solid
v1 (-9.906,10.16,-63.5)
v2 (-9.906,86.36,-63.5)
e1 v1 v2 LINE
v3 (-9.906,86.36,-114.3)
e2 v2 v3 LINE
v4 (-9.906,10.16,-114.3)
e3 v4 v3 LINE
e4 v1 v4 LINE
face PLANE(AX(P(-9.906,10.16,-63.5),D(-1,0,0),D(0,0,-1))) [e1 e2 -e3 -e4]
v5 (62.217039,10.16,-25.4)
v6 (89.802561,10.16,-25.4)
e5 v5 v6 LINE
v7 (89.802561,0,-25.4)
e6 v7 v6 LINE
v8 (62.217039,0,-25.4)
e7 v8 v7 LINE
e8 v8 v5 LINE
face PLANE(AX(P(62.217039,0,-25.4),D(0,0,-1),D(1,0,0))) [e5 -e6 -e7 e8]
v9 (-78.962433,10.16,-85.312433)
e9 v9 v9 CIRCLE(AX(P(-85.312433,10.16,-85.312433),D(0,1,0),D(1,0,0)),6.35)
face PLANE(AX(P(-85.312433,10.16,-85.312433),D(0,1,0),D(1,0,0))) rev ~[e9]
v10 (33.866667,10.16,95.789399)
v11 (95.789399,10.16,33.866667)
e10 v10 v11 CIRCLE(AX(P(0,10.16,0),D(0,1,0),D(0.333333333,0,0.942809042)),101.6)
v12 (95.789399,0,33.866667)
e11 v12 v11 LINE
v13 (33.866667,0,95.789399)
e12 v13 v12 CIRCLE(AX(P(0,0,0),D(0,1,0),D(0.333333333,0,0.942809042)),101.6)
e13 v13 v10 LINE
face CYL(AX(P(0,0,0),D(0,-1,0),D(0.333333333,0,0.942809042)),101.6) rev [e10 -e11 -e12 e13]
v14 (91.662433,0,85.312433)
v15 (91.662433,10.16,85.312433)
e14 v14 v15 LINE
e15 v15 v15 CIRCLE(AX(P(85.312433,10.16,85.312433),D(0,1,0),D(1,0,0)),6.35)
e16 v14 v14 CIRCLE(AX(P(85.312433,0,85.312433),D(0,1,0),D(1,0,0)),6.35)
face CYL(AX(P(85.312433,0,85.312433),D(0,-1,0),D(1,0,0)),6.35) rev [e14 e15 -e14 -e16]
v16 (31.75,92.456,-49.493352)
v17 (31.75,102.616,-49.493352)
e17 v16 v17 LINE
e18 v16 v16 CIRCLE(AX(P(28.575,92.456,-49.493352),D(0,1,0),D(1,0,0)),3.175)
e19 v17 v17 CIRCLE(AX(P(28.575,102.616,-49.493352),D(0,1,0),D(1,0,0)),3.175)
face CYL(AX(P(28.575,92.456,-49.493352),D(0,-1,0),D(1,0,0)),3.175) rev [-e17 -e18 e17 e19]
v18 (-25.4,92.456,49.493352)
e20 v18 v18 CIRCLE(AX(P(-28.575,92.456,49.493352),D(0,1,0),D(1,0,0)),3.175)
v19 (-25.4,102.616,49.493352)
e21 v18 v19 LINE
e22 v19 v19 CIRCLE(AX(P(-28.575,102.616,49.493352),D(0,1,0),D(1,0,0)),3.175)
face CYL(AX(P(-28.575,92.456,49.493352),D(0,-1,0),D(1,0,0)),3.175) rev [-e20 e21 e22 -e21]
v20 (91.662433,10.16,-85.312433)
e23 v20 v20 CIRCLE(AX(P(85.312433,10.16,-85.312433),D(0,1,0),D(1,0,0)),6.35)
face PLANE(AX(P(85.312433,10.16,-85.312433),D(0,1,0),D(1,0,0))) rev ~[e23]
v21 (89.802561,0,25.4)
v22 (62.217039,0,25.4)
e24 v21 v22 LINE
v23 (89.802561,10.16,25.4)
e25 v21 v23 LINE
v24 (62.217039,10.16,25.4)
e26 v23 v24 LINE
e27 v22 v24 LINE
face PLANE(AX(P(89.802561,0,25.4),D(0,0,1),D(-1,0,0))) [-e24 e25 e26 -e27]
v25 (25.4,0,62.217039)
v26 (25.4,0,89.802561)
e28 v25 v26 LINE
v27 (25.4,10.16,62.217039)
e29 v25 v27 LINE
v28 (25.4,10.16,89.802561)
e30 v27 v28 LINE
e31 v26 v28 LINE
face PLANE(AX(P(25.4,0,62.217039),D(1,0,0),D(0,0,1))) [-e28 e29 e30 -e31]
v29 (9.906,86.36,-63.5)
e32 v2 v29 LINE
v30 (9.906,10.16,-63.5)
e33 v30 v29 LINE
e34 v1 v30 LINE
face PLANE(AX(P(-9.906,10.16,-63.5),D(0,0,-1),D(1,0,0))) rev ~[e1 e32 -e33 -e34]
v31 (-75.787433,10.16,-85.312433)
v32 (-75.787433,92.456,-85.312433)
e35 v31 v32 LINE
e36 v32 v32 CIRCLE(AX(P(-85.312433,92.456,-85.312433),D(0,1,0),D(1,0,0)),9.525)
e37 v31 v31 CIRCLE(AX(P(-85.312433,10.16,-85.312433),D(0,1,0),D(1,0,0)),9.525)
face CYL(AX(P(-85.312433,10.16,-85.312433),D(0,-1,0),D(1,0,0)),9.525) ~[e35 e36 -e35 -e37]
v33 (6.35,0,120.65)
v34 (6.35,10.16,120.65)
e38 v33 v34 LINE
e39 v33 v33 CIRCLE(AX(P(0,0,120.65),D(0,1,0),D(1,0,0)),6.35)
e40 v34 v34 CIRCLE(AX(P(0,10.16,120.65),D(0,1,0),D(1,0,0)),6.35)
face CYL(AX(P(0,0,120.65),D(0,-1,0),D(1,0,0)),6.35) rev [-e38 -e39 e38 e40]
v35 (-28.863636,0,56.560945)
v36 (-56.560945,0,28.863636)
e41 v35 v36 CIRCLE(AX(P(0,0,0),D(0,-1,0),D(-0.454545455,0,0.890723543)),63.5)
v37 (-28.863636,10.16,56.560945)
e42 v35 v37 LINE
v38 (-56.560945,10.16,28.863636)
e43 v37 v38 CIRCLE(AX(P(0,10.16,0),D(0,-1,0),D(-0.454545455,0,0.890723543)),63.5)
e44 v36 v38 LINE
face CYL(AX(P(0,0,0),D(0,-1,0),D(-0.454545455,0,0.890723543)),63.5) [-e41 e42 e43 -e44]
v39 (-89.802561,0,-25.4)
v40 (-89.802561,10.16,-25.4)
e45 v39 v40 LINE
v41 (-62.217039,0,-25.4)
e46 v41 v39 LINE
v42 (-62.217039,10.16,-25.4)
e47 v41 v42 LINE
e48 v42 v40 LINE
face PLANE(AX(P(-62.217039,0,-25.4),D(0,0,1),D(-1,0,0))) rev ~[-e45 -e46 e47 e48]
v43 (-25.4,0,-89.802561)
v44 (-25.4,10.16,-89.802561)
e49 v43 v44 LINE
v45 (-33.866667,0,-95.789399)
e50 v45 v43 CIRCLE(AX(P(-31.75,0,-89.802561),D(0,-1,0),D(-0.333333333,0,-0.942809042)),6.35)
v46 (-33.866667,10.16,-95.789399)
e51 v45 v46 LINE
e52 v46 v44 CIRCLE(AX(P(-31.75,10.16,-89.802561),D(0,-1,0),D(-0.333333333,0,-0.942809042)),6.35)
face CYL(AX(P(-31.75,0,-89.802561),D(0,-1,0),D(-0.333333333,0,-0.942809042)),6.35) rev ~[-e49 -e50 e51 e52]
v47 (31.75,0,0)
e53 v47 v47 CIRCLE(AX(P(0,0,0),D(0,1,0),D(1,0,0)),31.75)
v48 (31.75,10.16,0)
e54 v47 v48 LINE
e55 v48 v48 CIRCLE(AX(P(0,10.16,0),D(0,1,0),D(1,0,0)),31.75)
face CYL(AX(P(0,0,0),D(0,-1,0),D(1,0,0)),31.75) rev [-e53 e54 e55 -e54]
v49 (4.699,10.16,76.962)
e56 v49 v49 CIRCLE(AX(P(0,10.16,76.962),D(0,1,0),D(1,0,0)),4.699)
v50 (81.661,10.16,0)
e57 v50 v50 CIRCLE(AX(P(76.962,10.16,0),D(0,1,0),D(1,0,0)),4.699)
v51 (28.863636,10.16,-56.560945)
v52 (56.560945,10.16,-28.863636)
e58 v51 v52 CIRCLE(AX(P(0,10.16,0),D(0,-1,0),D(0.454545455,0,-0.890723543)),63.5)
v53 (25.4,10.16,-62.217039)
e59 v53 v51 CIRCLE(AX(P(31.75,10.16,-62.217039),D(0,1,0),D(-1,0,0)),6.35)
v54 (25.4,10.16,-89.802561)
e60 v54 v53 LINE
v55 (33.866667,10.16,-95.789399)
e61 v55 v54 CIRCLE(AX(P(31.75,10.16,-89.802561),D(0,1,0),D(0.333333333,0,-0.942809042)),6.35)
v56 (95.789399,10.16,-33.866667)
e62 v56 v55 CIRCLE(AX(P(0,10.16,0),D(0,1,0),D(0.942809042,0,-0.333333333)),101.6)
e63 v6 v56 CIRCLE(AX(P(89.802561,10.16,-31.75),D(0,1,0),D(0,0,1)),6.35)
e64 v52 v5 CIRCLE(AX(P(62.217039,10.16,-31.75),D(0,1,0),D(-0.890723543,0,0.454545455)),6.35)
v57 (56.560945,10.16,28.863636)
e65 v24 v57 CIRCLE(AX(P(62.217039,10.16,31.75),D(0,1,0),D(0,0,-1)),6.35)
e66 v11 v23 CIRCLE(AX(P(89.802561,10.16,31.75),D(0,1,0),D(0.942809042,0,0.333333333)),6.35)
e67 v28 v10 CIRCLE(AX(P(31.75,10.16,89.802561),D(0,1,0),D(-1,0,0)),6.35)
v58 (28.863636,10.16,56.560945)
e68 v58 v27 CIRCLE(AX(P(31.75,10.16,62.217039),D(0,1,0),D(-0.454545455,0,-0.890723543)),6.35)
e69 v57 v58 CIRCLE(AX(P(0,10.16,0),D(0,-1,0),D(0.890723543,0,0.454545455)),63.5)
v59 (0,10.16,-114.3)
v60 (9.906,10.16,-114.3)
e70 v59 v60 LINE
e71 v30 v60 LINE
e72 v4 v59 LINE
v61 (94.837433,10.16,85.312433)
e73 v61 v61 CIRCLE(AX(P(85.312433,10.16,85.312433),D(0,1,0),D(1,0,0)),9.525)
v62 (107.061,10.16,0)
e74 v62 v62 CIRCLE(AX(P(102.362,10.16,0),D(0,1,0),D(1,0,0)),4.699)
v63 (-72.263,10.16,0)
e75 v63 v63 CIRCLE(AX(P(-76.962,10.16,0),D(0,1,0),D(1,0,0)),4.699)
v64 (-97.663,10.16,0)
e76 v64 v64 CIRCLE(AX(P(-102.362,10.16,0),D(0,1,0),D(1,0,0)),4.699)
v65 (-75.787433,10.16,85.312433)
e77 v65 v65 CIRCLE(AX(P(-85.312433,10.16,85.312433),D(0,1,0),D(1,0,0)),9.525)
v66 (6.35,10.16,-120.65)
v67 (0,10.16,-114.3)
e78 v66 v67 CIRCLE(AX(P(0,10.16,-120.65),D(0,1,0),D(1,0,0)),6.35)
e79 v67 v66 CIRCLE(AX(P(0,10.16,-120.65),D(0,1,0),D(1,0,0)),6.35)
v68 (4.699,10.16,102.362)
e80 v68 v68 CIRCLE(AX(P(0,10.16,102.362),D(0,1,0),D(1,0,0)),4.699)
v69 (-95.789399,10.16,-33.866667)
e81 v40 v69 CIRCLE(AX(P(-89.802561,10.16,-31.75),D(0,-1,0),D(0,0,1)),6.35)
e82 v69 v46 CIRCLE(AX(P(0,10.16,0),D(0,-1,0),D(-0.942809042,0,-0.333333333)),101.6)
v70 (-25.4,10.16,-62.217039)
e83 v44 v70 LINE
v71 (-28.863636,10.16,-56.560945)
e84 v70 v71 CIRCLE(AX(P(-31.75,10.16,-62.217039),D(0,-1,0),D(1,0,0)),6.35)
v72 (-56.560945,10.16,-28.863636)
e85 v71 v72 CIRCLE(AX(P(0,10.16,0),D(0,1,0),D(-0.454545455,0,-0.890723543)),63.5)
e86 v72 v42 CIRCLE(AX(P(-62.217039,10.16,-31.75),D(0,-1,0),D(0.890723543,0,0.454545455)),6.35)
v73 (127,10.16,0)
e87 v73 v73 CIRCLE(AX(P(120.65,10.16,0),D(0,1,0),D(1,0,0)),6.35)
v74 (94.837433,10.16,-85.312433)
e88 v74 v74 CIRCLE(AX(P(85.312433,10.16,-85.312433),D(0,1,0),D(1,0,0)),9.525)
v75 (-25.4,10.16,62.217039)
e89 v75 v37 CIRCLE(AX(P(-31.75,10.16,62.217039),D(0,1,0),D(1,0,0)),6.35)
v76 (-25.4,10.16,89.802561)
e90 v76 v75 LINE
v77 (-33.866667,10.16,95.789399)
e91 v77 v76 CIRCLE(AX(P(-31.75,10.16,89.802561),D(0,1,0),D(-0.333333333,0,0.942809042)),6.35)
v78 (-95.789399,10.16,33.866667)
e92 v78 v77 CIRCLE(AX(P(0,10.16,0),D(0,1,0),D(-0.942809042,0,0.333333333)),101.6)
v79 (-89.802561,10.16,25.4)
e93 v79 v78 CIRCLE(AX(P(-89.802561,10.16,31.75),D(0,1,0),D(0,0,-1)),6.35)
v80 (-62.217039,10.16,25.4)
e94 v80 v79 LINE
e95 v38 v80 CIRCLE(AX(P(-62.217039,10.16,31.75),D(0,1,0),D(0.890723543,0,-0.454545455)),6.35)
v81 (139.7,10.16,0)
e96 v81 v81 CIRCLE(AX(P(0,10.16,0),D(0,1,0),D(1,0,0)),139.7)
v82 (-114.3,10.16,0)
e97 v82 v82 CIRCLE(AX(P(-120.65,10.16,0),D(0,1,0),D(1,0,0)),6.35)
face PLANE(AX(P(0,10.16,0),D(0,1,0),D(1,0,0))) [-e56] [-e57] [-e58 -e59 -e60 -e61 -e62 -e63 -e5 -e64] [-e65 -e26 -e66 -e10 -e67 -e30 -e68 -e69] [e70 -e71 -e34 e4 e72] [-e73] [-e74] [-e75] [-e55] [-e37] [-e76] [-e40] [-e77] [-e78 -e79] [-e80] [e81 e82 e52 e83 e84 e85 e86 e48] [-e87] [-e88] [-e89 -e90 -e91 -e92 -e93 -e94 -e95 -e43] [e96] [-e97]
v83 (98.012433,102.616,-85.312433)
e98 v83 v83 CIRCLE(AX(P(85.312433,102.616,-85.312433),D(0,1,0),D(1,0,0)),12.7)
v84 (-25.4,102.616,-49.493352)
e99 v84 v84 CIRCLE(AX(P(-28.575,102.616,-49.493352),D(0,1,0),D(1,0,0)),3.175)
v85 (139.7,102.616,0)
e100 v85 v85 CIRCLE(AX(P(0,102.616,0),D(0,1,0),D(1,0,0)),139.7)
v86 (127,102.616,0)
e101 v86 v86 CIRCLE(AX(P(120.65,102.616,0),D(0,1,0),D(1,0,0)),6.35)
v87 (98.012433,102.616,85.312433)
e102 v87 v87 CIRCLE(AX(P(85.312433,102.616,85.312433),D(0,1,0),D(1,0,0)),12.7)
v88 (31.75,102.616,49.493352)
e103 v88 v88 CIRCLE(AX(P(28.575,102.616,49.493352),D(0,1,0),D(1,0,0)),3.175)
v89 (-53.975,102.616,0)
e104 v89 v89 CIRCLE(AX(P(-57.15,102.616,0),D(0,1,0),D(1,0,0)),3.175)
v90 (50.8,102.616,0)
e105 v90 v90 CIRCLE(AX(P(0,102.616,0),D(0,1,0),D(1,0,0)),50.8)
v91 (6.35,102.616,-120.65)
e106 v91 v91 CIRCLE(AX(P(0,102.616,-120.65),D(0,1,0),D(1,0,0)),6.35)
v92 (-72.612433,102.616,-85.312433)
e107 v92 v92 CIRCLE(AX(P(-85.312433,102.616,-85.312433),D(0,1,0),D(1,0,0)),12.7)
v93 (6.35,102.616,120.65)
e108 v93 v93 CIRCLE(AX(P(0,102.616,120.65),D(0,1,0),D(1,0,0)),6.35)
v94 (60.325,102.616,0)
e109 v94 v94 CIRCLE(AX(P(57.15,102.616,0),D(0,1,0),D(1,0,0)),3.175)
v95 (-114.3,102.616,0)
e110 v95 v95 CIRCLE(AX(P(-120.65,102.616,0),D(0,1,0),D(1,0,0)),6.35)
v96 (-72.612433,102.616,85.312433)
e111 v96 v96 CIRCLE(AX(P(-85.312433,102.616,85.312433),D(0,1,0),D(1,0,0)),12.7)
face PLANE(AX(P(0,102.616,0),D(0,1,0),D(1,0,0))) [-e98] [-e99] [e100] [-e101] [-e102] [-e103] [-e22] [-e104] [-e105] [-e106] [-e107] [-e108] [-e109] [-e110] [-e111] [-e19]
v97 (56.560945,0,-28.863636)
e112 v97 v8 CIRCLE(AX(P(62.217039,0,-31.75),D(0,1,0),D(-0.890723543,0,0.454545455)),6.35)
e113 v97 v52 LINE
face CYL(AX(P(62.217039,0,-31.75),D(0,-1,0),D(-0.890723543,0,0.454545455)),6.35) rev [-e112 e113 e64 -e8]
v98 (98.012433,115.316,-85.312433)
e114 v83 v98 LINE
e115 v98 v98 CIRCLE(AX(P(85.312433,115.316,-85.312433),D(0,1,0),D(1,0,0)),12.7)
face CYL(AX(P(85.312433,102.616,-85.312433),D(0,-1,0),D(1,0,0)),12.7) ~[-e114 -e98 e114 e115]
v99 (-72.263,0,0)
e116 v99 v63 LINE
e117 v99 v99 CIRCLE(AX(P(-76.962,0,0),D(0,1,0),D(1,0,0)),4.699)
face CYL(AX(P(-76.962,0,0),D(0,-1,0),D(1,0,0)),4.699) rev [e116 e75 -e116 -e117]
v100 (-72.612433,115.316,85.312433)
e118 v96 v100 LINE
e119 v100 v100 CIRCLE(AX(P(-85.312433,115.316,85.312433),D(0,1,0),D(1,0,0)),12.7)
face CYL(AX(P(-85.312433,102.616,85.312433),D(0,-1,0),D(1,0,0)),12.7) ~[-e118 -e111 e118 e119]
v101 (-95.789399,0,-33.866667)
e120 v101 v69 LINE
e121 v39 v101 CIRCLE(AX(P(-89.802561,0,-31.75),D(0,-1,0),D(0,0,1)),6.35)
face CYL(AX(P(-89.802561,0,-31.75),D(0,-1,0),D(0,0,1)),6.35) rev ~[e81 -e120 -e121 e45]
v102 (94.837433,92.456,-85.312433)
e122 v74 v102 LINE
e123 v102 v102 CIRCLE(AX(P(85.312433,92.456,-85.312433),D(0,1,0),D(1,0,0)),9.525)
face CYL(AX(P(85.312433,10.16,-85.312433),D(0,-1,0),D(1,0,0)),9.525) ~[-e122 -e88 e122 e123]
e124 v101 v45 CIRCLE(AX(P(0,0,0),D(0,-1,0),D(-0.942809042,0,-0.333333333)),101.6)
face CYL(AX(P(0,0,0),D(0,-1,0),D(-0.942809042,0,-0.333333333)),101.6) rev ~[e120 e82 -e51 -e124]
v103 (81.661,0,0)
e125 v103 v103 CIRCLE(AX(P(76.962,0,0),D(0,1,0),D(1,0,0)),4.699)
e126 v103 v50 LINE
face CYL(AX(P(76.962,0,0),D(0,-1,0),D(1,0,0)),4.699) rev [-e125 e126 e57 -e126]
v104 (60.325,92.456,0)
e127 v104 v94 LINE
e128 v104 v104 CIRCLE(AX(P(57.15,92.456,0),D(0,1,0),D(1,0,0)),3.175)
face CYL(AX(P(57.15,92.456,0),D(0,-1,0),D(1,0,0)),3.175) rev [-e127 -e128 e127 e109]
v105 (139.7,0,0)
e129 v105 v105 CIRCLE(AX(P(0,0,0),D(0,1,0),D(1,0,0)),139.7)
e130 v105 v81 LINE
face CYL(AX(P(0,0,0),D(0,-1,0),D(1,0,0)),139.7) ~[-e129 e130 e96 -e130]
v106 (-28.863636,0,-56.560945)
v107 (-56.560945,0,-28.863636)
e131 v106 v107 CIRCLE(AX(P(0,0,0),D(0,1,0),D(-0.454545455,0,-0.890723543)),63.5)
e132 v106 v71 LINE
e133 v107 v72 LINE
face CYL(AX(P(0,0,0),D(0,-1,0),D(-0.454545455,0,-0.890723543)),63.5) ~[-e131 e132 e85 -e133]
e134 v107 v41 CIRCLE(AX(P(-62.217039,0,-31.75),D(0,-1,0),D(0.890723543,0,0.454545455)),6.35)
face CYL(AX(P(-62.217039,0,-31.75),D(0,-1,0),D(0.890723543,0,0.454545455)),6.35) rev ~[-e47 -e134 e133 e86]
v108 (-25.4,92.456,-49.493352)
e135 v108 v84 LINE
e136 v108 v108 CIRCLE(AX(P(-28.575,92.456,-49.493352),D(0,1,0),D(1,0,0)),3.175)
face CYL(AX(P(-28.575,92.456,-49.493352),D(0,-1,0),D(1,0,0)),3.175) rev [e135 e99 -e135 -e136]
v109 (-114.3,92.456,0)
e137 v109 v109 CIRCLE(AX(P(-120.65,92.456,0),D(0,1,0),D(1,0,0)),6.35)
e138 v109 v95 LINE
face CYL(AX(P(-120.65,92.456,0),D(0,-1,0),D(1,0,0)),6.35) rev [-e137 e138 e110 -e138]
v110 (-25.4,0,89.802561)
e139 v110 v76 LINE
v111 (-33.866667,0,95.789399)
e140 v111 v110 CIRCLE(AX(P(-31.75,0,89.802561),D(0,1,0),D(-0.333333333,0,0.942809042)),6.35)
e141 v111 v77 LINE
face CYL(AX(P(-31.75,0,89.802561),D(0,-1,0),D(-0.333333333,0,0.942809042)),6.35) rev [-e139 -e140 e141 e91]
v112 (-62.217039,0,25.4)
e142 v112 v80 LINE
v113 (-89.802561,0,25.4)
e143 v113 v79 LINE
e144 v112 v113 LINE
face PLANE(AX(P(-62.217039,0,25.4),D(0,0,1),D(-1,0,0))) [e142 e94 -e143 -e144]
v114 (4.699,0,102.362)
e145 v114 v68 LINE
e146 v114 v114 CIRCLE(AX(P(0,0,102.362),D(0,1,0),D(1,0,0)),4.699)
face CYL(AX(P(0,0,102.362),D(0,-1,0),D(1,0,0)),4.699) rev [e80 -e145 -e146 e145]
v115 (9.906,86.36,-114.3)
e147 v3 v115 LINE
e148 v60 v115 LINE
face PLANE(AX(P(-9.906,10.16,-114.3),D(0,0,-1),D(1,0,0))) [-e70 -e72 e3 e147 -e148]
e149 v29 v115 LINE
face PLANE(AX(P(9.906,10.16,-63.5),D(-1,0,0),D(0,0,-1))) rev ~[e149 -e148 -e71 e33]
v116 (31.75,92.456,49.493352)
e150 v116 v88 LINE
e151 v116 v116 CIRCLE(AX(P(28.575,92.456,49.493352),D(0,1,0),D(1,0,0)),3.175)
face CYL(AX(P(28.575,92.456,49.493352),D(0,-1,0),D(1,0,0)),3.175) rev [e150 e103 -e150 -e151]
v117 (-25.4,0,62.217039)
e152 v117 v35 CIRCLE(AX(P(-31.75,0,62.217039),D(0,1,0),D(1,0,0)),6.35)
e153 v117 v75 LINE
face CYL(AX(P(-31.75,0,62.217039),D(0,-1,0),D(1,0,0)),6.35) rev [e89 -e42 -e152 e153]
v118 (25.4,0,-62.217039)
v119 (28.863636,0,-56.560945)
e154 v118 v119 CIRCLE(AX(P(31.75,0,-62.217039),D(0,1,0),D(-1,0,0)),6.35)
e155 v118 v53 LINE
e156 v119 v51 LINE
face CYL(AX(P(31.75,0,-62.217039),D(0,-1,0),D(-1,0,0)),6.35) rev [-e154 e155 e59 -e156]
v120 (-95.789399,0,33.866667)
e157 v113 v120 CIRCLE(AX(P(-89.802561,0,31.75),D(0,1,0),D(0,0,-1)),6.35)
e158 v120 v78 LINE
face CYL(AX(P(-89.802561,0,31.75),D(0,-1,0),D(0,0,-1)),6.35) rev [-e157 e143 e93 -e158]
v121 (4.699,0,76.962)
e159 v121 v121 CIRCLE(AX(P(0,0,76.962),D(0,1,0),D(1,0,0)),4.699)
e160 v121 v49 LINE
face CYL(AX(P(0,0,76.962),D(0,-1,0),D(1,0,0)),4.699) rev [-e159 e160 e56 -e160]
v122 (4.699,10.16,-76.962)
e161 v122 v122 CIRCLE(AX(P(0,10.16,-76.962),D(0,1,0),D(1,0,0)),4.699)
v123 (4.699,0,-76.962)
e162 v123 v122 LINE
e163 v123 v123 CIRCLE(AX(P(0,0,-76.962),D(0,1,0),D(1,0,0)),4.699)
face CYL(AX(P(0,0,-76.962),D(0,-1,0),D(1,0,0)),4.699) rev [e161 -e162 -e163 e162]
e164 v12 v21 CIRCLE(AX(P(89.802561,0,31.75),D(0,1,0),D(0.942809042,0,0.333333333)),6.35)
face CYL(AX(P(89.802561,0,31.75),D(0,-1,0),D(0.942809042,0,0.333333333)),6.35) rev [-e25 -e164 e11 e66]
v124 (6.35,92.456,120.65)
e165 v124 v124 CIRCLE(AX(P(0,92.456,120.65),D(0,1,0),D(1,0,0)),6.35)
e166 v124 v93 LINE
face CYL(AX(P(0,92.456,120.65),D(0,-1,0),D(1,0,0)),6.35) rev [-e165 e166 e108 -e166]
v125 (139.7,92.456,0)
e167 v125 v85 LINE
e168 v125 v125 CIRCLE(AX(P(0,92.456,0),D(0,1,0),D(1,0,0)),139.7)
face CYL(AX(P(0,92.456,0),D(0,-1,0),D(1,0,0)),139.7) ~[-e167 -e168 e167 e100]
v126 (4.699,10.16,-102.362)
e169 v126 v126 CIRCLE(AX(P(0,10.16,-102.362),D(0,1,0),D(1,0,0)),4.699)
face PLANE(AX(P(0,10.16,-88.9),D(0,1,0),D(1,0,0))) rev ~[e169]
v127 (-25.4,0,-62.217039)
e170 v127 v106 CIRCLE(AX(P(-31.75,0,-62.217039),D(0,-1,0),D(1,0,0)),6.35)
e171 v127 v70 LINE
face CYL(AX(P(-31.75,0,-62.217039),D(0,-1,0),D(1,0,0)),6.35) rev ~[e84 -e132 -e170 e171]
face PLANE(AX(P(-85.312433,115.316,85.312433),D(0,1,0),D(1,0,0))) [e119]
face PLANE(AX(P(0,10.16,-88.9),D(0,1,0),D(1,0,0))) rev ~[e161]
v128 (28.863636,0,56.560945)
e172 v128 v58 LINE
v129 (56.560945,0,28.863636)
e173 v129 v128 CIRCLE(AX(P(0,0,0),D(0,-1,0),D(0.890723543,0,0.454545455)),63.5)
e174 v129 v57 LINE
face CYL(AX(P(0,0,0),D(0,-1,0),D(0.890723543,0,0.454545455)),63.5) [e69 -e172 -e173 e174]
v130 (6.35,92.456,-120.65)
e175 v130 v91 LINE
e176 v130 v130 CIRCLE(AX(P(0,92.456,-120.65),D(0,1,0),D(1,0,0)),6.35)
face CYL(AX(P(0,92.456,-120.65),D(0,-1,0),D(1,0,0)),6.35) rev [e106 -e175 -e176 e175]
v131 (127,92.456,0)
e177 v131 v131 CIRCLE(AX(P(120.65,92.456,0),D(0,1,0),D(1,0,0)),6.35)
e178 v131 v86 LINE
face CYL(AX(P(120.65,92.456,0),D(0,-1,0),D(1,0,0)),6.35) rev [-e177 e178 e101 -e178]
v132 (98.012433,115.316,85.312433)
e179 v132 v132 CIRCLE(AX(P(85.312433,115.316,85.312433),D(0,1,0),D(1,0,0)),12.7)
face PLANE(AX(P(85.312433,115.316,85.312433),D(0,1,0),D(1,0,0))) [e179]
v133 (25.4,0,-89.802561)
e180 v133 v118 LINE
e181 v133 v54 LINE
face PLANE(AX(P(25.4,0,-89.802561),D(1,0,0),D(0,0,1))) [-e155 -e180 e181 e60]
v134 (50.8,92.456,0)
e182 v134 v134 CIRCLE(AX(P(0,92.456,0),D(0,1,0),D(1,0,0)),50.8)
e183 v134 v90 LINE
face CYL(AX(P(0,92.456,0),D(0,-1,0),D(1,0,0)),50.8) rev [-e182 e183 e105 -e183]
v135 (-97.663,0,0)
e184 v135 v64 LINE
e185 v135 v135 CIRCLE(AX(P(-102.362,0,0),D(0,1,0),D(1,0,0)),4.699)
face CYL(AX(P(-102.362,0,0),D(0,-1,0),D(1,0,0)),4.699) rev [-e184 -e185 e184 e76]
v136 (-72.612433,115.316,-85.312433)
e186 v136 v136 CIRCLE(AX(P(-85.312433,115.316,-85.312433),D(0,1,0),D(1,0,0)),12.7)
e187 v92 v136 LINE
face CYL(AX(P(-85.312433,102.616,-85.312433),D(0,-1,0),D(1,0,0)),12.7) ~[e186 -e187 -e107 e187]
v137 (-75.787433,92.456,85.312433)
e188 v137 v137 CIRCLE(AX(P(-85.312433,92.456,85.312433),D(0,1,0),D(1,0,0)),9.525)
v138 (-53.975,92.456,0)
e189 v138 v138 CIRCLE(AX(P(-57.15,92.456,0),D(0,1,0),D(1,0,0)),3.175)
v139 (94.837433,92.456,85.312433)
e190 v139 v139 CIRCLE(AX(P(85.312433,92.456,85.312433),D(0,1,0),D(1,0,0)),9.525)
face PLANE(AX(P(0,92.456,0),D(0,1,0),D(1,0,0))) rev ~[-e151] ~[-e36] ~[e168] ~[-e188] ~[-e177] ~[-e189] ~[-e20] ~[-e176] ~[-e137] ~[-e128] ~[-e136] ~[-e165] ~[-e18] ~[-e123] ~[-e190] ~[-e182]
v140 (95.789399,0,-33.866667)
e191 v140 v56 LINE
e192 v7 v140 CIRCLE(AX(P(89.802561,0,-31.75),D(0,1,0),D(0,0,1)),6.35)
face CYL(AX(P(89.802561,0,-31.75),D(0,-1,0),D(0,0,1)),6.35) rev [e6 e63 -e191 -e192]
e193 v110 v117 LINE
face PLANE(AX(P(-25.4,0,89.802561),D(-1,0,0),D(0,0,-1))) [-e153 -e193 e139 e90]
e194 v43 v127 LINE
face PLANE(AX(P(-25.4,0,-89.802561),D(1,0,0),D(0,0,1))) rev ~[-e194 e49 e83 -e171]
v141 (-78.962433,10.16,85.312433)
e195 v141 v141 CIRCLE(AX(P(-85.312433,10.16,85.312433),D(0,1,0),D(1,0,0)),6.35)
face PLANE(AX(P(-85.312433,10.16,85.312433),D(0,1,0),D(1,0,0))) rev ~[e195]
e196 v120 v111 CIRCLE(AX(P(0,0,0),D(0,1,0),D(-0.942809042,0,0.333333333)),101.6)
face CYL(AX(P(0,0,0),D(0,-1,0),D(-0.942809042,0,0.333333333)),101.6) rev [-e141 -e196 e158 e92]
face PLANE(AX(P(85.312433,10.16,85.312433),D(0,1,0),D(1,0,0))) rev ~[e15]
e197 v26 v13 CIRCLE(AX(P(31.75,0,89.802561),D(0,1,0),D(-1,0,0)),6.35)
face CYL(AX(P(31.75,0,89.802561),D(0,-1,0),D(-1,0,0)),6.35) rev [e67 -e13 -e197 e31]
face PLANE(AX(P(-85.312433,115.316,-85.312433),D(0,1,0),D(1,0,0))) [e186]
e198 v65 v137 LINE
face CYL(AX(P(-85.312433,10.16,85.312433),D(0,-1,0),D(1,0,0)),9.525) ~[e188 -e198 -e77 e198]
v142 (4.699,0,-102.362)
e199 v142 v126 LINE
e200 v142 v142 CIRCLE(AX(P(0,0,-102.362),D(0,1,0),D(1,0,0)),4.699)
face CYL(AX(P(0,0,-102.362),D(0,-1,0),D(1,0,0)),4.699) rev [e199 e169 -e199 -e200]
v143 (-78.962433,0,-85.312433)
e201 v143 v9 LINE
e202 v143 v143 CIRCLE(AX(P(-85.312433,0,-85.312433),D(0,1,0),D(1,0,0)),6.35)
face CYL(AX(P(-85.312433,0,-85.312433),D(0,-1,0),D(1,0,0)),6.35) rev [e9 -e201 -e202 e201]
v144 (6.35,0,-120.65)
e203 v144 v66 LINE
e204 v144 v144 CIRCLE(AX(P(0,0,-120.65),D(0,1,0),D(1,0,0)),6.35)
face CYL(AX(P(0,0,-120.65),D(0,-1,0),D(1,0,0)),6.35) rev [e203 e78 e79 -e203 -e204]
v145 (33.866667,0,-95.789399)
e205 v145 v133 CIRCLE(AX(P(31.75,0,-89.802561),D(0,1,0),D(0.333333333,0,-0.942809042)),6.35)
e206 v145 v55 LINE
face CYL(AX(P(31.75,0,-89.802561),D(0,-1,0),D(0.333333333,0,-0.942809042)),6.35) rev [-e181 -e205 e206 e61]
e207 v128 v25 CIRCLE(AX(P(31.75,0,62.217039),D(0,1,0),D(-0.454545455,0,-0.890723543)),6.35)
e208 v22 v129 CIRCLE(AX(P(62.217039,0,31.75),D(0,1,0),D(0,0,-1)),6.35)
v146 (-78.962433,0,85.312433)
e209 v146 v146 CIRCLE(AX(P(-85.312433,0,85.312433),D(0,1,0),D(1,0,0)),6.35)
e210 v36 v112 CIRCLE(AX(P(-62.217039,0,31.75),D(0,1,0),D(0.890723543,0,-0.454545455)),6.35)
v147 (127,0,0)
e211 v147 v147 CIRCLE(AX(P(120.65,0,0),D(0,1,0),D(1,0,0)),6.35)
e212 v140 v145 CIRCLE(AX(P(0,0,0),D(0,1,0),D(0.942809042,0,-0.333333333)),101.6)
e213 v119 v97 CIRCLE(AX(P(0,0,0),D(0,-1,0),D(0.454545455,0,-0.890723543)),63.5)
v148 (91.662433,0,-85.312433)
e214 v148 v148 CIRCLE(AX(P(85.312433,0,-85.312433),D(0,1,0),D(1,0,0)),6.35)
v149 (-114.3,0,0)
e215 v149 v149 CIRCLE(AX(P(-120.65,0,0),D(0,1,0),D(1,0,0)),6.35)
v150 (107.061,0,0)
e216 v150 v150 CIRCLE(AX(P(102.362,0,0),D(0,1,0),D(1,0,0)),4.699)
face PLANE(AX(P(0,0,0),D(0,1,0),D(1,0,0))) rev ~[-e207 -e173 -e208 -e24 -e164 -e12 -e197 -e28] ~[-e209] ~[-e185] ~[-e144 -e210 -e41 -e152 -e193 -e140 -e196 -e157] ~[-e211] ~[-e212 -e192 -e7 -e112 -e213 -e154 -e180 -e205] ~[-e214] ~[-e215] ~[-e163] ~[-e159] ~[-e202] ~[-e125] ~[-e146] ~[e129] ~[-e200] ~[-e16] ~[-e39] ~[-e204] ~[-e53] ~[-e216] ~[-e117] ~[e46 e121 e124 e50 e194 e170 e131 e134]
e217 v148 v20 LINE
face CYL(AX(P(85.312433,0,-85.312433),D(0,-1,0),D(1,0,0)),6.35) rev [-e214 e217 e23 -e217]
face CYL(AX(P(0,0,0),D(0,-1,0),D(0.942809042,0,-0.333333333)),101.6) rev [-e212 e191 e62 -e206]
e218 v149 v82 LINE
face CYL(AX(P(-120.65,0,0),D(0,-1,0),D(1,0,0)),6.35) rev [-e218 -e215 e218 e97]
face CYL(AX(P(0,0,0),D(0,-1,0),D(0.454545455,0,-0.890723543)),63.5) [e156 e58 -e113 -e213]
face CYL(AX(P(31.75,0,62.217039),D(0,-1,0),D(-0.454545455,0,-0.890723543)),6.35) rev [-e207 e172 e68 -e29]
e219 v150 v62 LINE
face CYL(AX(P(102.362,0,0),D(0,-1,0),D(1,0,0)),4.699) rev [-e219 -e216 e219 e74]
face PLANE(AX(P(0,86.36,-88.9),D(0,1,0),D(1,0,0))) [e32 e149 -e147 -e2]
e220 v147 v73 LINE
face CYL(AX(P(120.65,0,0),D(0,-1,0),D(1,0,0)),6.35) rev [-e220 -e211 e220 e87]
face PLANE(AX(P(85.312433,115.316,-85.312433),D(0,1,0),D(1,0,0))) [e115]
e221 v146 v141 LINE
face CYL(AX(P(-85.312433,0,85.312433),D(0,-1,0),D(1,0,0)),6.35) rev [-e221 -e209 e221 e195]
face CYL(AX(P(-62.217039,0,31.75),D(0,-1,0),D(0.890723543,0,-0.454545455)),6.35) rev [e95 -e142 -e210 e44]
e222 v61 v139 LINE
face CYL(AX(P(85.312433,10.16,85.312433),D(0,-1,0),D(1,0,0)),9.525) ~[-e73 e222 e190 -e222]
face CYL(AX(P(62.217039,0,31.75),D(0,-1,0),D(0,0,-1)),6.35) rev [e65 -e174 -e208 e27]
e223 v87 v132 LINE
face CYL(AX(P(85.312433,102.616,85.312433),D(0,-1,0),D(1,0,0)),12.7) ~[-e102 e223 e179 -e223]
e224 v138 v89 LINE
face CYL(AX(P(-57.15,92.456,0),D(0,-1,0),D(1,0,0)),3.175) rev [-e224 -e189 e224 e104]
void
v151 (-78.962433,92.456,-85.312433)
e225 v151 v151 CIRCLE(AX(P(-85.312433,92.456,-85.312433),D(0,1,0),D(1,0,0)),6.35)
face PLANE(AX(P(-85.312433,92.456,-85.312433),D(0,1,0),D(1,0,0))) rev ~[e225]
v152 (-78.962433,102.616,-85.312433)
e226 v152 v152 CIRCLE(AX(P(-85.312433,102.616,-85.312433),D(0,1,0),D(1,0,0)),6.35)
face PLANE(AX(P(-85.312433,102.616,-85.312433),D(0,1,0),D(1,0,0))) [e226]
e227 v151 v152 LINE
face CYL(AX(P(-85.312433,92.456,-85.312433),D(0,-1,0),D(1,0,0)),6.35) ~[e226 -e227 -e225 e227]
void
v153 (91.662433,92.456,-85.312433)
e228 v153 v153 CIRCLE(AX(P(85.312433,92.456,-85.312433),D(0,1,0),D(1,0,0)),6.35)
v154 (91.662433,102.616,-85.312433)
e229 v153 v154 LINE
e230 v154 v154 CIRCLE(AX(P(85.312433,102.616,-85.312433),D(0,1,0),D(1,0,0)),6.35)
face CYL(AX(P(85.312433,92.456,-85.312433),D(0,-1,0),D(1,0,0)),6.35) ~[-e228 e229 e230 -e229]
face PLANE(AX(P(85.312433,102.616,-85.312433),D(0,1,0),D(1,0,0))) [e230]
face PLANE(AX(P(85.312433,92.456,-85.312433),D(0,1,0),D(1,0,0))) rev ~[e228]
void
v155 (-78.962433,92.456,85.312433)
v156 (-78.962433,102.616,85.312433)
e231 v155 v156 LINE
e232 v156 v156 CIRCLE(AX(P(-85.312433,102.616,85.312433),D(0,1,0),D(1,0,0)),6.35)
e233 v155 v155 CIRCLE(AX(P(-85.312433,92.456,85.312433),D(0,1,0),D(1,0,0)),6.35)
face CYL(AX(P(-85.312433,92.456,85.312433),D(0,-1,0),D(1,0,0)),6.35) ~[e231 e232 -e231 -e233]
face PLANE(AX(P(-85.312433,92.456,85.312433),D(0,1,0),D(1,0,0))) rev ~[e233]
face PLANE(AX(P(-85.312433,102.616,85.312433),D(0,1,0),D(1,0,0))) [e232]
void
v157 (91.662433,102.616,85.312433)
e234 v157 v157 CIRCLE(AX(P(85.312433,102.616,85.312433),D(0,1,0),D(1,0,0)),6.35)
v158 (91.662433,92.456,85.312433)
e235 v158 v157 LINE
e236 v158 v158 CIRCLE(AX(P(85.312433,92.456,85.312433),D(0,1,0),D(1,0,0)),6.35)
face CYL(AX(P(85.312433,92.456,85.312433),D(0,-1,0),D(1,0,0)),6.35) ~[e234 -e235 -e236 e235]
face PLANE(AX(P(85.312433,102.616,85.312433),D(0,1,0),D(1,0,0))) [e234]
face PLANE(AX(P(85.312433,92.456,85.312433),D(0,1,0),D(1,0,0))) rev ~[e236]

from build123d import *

# Parameters (mm, degrees)
SKETCH1_R           = 139.7
SKETCH1_R_2         = 31.75
SKETCH1_R_3         = 6.35
SKETCH1_R_4         = 4.699
BOSS_EXTRUDE1_DEPTH = 10.16
SKETCH2_R           = 9.525
BOSS_EXTRUDE2_DEPTH = 82.296
SKETCH3_R           = 139.7
SKETCH3_R_2         = 50.8
SKETCH3_R_3         = 6.35
SKETCH3_R_4         = 3.175
BOSS_EXTRUDE3_DEPTH = 10.16
SKETCH4_R           = 12.7
BOSS_EXTRUDE4_DEPTH = 12.7
SKETCH6_W           = 19.812
SKETCH6_H           = 50.8
BOSS_EXTRUDE5_DEPTH = 76.2


with BuildPart() as part:
    # Sketch1 → Boss-Extrude1 (new body)
    with BuildSketch(Plane(origin=(0, 0, 0), x_dir=(1, 0, 0), z_dir=(0, 1, 0))):
        Circle(SKETCH1_R)
        Circle(SKETCH1_R_2, mode=Mode.SUBTRACT)
        with Locations((0, 120.65)):
            Circle(SKETCH1_R_3, mode=Mode.SUBTRACT)
        with Locations((0, 102.362)):
            Circle(SKETCH1_R_4, mode=Mode.SUBTRACT)
        with Locations((0, 76.962)):
            Circle(SKETCH1_R_4, mode=Mode.SUBTRACT)
        with Locations((85.31243315, 85.31243315)):
            Circle(SKETCH1_R_3, mode=Mode.SUBTRACT)
        with Locations((120.65, 0)):
            Circle(SKETCH1_R_3, mode=Mode.SUBTRACT)
        with Locations((85.31243315, -85.31243315)):
            Circle(SKETCH1_R_3, mode=Mode.SUBTRACT)
        with Locations((0, -120.65)):
            Circle(SKETCH1_R_3, mode=Mode.SUBTRACT)
        with Locations((-85.31243315, -85.31243315)):
            Circle(SKETCH1_R_3, mode=Mode.SUBTRACT)
        with Locations((-120.65, 0)):
            Circle(SKETCH1_R_3, mode=Mode.SUBTRACT)
        with Locations((-85.31243315, 85.31243315)):
            Circle(SKETCH1_R_3, mode=Mode.SUBTRACT)
        with Locations((102.362, 0)):
            Circle(SKETCH1_R_4, mode=Mode.SUBTRACT)
        with Locations((76.962, 0)):
            Circle(SKETCH1_R_4, mode=Mode.SUBTRACT)
        with Locations((0, -102.362)):
            Circle(SKETCH1_R_4, mode=Mode.SUBTRACT)
        with Locations((0, -76.962)):
            Circle(SKETCH1_R_4, mode=Mode.SUBTRACT)
        with Locations((-102.362, 0)):
            Circle(SKETCH1_R_4, mode=Mode.SUBTRACT)
        with Locations((-76.962, 0)):
            Circle(SKETCH1_R_4, mode=Mode.SUBTRACT)
        with BuildLine():
            Line((-25.4, 89.802561211), (-25.4, 62.217039467))
            ThreePointArc((-25.4, 62.217039467), (-26.334701805, 58.900860121), (-28.863636364, 56.56094497))
            ThreePointArc((-28.863636364, 56.56094497), (-44.901280605, 44.901280605), (-56.56094497, 28.863636364))
            ThreePointArc((-56.56094497, 28.863636364), (-58.900860121, 26.334701805), (-62.217039467, 25.4))
            Line((-62.217039467, 25.4), (-89.802561211, 25.4))
            ThreePointArc((-89.802561211, 25.4), (-94.9873145, 28.083825791), (-95.789398625, 33.866666667))
            ThreePointArc((-95.789398625, 33.866666667), (-71.842048969, 71.842048969), (-33.866666667, 95.789398625))
            ThreePointArc((-33.866666667, 95.789398625), (-28.083825791, 94.9873145), (-25.4, 89.802561211))
        make_face(mode=Mode.SUBTRACT)
        with BuildLine():
            Line((25.4, 89.802561211), (25.4, 62.217039467))
            ThreePointArc((25.4, 62.217039467), (26.334701805, 58.900860121), (28.863636364, 56.56094497))
            ThreePointArc((28.863636364, 56.56094497), (44.901280605, 44.901280605), (56.56094497, 28.863636364))
            ThreePointArc((56.56094497, 28.863636364), (58.900860121, 26.334701805), (62.217039467, 25.4))
            Line((62.217039467, 25.4), (89.802561211, 25.4))
            ThreePointArc((89.802561211, 25.4), (94.9873145, 28.083825791), (95.789398625, 33.866666667))
            ThreePointArc((95.789398625, 33.866666667), (71.842048969, 71.842048969), (33.866666667, 95.789398625))
            ThreePointArc((33.866666667, 95.789398625), (28.083825791, 94.9873145), (25.4, 89.802561211))
        make_face(mode=Mode.SUBTRACT)
        with BuildLine():
            Line((89.802561211, -25.4), (62.217039467, -25.4))
            ThreePointArc((62.217039467, -25.4), (58.900860121, -26.334701805), (56.56094497, -28.863636364))
            ThreePointArc((56.56094497, -28.863636364), (44.901280605, -44.901280605), (28.863636364, -56.56094497))
            ThreePointArc((28.863636364, -56.56094497), (26.334701805, -58.900860121), (25.4, -62.217039467))
            Line((25.4, -62.217039467), (25.4, -89.802561211))
            ThreePointArc((25.4, -89.802561211), (28.083825791, -94.9873145), (33.866666667, -95.789398625))
            ThreePointArc((33.866666667, -95.789398625), (71.842048969, -71.842048969), (95.789398625, -33.866666667))
            ThreePointArc((95.789398625, -33.866666667), (94.9873145, -28.083825791), (89.802561211, -25.4))
        make_face(mode=Mode.SUBTRACT)
        with BuildLine():
            Line((-25.4, -89.802561211), (-25.4, -62.217039467))
            ThreePointArc((-25.4, -62.217039467), (-26.334701805, -58.900860121), (-28.863636364, -56.56094497))
            ThreePointArc((-28.863636364, -56.56094497), (-44.901280605, -44.901280605), (-56.56094497, -28.863636364))
            ThreePointArc((-56.56094497, -28.863636364), (-58.900860121, -26.334701805), (-62.217039467, -25.4))
            Line((-62.217039467, -25.4), (-89.802561211, -25.4))
            ThreePointArc((-89.802561211, -25.4), (-94.9873145, -28.083825791), (-95.789398625, -33.866666667))
            ThreePointArc((-95.789398625, -33.866666667), (-71.842048969, -71.842048969), (-33.866666667, -95.789398625))
            ThreePointArc((-33.866666667, -95.789398625), (-28.083825791, -94.9873145), (-25.4, -89.802561211))
        make_face(mode=Mode.SUBTRACT)
    extrude(amount=BOSS_EXTRUDE1_DEPTH)

    # Sketch2 → Boss-Extrude2 (add)
    with BuildSketch(Plane(origin=(0, 10.16, 0), x_dir=(1, 0, 0), z_dir=(0, 1, 0))):
        with Locations((-85.31243315, 85.31243315)):
            Circle(SKETCH2_R)
        with Locations((85.31243315, 85.31243315)):
            Circle(SKETCH2_R)
        with Locations((85.31243315, -85.31243315)):
            Circle(SKETCH2_R)
        with Locations((-85.31243315, -85.31243315)):
            Circle(SKETCH2_R)
    extrude(amount=BOSS_EXTRUDE2_DEPTH)

    # Sketch3 → Boss-Extrude3 (add)
    with BuildSketch(Plane(origin=(0, 92.456, 0), x_dir=(1, 0, 0), z_dir=(0, 1, 0))):
        Circle(SKETCH3_R)
        Circle(SKETCH3_R_2, mode=Mode.SUBTRACT)
        with Locations((0, 120.65)):
            Circle(SKETCH3_R_3, mode=Mode.SUBTRACT)
        with Locations((85.31243315, 85.31243315)):
            Circle(SKETCH3_R_3, mode=Mode.SUBTRACT)
        with Locations((120.65, 0)):
            Circle(SKETCH3_R_3, mode=Mode.SUBTRACT)
        with Locations((85.31243315, -85.31243315)):
            Circle(SKETCH3_R_3, mode=Mode.SUBTRACT)
        with Locations((0, -120.65)):
            Circle(SKETCH3_R_3, mode=Mode.SUBTRACT)
        with Locations((-85.31243315, -85.31243315)):
            Circle(SKETCH3_R_3, mode=Mode.SUBTRACT)
        with Locations((-120.65, 0)):
            Circle(SKETCH3_R_3, mode=Mode.SUBTRACT)
        with Locations((-85.31243315, 85.31243315)):
            Circle(SKETCH3_R_3, mode=Mode.SUBTRACT)
        with Locations((-57.15, 0)):
            Circle(SKETCH3_R_4, mode=Mode.SUBTRACT)
        with Locations((-28.575, 49.493351826)):
            Circle(SKETCH3_R_4, mode=Mode.SUBTRACT)
        with Locations((28.575, 49.493351826)):
            Circle(SKETCH3_R_4, mode=Mode.SUBTRACT)
        with Locations((57.15, 0)):
            Circle(SKETCH3_R_4, mode=Mode.SUBTRACT)
        with Locations((28.575, -49.493351826)):
            Circle(SKETCH3_R_4, mode=Mode.SUBTRACT)
        with Locations((-28.575, -49.493351826)):
            Circle(SKETCH3_R_4, mode=Mode.SUBTRACT)
    extrude(amount=BOSS_EXTRUDE3_DEPTH)

    # Sketch4 → Boss-Extrude4 (add)
    with BuildSketch(Plane(origin=(0, 102.616, 0), x_dir=(1, 0, 0), z_dir=(0, 1, 0))):
        with Locations((-85.31243315, 85.31243315)):
            Circle(SKETCH4_R)
        with Locations((85.31243315, 85.31243315)):
            Circle(SKETCH4_R)
        with Locations((85.31243315, -85.31243315)):
            Circle(SKETCH4_R)
        with Locations((-85.31243315, -85.31243315)):
            Circle(SKETCH4_R)
    extrude(amount=BOSS_EXTRUDE4_DEPTH)

    # Sketch6 → Boss-Extrude5 (add)
    with BuildSketch(Plane(origin=(0, 10.16, 0), x_dir=(1, 0, 0), z_dir=(0, 1, 0))):
        with Locations((0, 88.9)):
            Rectangle(SKETCH6_W, SKETCH6_H)
    extrude(amount=BOSS_EXTRUDE5_DEPTH)


solid = part.part
